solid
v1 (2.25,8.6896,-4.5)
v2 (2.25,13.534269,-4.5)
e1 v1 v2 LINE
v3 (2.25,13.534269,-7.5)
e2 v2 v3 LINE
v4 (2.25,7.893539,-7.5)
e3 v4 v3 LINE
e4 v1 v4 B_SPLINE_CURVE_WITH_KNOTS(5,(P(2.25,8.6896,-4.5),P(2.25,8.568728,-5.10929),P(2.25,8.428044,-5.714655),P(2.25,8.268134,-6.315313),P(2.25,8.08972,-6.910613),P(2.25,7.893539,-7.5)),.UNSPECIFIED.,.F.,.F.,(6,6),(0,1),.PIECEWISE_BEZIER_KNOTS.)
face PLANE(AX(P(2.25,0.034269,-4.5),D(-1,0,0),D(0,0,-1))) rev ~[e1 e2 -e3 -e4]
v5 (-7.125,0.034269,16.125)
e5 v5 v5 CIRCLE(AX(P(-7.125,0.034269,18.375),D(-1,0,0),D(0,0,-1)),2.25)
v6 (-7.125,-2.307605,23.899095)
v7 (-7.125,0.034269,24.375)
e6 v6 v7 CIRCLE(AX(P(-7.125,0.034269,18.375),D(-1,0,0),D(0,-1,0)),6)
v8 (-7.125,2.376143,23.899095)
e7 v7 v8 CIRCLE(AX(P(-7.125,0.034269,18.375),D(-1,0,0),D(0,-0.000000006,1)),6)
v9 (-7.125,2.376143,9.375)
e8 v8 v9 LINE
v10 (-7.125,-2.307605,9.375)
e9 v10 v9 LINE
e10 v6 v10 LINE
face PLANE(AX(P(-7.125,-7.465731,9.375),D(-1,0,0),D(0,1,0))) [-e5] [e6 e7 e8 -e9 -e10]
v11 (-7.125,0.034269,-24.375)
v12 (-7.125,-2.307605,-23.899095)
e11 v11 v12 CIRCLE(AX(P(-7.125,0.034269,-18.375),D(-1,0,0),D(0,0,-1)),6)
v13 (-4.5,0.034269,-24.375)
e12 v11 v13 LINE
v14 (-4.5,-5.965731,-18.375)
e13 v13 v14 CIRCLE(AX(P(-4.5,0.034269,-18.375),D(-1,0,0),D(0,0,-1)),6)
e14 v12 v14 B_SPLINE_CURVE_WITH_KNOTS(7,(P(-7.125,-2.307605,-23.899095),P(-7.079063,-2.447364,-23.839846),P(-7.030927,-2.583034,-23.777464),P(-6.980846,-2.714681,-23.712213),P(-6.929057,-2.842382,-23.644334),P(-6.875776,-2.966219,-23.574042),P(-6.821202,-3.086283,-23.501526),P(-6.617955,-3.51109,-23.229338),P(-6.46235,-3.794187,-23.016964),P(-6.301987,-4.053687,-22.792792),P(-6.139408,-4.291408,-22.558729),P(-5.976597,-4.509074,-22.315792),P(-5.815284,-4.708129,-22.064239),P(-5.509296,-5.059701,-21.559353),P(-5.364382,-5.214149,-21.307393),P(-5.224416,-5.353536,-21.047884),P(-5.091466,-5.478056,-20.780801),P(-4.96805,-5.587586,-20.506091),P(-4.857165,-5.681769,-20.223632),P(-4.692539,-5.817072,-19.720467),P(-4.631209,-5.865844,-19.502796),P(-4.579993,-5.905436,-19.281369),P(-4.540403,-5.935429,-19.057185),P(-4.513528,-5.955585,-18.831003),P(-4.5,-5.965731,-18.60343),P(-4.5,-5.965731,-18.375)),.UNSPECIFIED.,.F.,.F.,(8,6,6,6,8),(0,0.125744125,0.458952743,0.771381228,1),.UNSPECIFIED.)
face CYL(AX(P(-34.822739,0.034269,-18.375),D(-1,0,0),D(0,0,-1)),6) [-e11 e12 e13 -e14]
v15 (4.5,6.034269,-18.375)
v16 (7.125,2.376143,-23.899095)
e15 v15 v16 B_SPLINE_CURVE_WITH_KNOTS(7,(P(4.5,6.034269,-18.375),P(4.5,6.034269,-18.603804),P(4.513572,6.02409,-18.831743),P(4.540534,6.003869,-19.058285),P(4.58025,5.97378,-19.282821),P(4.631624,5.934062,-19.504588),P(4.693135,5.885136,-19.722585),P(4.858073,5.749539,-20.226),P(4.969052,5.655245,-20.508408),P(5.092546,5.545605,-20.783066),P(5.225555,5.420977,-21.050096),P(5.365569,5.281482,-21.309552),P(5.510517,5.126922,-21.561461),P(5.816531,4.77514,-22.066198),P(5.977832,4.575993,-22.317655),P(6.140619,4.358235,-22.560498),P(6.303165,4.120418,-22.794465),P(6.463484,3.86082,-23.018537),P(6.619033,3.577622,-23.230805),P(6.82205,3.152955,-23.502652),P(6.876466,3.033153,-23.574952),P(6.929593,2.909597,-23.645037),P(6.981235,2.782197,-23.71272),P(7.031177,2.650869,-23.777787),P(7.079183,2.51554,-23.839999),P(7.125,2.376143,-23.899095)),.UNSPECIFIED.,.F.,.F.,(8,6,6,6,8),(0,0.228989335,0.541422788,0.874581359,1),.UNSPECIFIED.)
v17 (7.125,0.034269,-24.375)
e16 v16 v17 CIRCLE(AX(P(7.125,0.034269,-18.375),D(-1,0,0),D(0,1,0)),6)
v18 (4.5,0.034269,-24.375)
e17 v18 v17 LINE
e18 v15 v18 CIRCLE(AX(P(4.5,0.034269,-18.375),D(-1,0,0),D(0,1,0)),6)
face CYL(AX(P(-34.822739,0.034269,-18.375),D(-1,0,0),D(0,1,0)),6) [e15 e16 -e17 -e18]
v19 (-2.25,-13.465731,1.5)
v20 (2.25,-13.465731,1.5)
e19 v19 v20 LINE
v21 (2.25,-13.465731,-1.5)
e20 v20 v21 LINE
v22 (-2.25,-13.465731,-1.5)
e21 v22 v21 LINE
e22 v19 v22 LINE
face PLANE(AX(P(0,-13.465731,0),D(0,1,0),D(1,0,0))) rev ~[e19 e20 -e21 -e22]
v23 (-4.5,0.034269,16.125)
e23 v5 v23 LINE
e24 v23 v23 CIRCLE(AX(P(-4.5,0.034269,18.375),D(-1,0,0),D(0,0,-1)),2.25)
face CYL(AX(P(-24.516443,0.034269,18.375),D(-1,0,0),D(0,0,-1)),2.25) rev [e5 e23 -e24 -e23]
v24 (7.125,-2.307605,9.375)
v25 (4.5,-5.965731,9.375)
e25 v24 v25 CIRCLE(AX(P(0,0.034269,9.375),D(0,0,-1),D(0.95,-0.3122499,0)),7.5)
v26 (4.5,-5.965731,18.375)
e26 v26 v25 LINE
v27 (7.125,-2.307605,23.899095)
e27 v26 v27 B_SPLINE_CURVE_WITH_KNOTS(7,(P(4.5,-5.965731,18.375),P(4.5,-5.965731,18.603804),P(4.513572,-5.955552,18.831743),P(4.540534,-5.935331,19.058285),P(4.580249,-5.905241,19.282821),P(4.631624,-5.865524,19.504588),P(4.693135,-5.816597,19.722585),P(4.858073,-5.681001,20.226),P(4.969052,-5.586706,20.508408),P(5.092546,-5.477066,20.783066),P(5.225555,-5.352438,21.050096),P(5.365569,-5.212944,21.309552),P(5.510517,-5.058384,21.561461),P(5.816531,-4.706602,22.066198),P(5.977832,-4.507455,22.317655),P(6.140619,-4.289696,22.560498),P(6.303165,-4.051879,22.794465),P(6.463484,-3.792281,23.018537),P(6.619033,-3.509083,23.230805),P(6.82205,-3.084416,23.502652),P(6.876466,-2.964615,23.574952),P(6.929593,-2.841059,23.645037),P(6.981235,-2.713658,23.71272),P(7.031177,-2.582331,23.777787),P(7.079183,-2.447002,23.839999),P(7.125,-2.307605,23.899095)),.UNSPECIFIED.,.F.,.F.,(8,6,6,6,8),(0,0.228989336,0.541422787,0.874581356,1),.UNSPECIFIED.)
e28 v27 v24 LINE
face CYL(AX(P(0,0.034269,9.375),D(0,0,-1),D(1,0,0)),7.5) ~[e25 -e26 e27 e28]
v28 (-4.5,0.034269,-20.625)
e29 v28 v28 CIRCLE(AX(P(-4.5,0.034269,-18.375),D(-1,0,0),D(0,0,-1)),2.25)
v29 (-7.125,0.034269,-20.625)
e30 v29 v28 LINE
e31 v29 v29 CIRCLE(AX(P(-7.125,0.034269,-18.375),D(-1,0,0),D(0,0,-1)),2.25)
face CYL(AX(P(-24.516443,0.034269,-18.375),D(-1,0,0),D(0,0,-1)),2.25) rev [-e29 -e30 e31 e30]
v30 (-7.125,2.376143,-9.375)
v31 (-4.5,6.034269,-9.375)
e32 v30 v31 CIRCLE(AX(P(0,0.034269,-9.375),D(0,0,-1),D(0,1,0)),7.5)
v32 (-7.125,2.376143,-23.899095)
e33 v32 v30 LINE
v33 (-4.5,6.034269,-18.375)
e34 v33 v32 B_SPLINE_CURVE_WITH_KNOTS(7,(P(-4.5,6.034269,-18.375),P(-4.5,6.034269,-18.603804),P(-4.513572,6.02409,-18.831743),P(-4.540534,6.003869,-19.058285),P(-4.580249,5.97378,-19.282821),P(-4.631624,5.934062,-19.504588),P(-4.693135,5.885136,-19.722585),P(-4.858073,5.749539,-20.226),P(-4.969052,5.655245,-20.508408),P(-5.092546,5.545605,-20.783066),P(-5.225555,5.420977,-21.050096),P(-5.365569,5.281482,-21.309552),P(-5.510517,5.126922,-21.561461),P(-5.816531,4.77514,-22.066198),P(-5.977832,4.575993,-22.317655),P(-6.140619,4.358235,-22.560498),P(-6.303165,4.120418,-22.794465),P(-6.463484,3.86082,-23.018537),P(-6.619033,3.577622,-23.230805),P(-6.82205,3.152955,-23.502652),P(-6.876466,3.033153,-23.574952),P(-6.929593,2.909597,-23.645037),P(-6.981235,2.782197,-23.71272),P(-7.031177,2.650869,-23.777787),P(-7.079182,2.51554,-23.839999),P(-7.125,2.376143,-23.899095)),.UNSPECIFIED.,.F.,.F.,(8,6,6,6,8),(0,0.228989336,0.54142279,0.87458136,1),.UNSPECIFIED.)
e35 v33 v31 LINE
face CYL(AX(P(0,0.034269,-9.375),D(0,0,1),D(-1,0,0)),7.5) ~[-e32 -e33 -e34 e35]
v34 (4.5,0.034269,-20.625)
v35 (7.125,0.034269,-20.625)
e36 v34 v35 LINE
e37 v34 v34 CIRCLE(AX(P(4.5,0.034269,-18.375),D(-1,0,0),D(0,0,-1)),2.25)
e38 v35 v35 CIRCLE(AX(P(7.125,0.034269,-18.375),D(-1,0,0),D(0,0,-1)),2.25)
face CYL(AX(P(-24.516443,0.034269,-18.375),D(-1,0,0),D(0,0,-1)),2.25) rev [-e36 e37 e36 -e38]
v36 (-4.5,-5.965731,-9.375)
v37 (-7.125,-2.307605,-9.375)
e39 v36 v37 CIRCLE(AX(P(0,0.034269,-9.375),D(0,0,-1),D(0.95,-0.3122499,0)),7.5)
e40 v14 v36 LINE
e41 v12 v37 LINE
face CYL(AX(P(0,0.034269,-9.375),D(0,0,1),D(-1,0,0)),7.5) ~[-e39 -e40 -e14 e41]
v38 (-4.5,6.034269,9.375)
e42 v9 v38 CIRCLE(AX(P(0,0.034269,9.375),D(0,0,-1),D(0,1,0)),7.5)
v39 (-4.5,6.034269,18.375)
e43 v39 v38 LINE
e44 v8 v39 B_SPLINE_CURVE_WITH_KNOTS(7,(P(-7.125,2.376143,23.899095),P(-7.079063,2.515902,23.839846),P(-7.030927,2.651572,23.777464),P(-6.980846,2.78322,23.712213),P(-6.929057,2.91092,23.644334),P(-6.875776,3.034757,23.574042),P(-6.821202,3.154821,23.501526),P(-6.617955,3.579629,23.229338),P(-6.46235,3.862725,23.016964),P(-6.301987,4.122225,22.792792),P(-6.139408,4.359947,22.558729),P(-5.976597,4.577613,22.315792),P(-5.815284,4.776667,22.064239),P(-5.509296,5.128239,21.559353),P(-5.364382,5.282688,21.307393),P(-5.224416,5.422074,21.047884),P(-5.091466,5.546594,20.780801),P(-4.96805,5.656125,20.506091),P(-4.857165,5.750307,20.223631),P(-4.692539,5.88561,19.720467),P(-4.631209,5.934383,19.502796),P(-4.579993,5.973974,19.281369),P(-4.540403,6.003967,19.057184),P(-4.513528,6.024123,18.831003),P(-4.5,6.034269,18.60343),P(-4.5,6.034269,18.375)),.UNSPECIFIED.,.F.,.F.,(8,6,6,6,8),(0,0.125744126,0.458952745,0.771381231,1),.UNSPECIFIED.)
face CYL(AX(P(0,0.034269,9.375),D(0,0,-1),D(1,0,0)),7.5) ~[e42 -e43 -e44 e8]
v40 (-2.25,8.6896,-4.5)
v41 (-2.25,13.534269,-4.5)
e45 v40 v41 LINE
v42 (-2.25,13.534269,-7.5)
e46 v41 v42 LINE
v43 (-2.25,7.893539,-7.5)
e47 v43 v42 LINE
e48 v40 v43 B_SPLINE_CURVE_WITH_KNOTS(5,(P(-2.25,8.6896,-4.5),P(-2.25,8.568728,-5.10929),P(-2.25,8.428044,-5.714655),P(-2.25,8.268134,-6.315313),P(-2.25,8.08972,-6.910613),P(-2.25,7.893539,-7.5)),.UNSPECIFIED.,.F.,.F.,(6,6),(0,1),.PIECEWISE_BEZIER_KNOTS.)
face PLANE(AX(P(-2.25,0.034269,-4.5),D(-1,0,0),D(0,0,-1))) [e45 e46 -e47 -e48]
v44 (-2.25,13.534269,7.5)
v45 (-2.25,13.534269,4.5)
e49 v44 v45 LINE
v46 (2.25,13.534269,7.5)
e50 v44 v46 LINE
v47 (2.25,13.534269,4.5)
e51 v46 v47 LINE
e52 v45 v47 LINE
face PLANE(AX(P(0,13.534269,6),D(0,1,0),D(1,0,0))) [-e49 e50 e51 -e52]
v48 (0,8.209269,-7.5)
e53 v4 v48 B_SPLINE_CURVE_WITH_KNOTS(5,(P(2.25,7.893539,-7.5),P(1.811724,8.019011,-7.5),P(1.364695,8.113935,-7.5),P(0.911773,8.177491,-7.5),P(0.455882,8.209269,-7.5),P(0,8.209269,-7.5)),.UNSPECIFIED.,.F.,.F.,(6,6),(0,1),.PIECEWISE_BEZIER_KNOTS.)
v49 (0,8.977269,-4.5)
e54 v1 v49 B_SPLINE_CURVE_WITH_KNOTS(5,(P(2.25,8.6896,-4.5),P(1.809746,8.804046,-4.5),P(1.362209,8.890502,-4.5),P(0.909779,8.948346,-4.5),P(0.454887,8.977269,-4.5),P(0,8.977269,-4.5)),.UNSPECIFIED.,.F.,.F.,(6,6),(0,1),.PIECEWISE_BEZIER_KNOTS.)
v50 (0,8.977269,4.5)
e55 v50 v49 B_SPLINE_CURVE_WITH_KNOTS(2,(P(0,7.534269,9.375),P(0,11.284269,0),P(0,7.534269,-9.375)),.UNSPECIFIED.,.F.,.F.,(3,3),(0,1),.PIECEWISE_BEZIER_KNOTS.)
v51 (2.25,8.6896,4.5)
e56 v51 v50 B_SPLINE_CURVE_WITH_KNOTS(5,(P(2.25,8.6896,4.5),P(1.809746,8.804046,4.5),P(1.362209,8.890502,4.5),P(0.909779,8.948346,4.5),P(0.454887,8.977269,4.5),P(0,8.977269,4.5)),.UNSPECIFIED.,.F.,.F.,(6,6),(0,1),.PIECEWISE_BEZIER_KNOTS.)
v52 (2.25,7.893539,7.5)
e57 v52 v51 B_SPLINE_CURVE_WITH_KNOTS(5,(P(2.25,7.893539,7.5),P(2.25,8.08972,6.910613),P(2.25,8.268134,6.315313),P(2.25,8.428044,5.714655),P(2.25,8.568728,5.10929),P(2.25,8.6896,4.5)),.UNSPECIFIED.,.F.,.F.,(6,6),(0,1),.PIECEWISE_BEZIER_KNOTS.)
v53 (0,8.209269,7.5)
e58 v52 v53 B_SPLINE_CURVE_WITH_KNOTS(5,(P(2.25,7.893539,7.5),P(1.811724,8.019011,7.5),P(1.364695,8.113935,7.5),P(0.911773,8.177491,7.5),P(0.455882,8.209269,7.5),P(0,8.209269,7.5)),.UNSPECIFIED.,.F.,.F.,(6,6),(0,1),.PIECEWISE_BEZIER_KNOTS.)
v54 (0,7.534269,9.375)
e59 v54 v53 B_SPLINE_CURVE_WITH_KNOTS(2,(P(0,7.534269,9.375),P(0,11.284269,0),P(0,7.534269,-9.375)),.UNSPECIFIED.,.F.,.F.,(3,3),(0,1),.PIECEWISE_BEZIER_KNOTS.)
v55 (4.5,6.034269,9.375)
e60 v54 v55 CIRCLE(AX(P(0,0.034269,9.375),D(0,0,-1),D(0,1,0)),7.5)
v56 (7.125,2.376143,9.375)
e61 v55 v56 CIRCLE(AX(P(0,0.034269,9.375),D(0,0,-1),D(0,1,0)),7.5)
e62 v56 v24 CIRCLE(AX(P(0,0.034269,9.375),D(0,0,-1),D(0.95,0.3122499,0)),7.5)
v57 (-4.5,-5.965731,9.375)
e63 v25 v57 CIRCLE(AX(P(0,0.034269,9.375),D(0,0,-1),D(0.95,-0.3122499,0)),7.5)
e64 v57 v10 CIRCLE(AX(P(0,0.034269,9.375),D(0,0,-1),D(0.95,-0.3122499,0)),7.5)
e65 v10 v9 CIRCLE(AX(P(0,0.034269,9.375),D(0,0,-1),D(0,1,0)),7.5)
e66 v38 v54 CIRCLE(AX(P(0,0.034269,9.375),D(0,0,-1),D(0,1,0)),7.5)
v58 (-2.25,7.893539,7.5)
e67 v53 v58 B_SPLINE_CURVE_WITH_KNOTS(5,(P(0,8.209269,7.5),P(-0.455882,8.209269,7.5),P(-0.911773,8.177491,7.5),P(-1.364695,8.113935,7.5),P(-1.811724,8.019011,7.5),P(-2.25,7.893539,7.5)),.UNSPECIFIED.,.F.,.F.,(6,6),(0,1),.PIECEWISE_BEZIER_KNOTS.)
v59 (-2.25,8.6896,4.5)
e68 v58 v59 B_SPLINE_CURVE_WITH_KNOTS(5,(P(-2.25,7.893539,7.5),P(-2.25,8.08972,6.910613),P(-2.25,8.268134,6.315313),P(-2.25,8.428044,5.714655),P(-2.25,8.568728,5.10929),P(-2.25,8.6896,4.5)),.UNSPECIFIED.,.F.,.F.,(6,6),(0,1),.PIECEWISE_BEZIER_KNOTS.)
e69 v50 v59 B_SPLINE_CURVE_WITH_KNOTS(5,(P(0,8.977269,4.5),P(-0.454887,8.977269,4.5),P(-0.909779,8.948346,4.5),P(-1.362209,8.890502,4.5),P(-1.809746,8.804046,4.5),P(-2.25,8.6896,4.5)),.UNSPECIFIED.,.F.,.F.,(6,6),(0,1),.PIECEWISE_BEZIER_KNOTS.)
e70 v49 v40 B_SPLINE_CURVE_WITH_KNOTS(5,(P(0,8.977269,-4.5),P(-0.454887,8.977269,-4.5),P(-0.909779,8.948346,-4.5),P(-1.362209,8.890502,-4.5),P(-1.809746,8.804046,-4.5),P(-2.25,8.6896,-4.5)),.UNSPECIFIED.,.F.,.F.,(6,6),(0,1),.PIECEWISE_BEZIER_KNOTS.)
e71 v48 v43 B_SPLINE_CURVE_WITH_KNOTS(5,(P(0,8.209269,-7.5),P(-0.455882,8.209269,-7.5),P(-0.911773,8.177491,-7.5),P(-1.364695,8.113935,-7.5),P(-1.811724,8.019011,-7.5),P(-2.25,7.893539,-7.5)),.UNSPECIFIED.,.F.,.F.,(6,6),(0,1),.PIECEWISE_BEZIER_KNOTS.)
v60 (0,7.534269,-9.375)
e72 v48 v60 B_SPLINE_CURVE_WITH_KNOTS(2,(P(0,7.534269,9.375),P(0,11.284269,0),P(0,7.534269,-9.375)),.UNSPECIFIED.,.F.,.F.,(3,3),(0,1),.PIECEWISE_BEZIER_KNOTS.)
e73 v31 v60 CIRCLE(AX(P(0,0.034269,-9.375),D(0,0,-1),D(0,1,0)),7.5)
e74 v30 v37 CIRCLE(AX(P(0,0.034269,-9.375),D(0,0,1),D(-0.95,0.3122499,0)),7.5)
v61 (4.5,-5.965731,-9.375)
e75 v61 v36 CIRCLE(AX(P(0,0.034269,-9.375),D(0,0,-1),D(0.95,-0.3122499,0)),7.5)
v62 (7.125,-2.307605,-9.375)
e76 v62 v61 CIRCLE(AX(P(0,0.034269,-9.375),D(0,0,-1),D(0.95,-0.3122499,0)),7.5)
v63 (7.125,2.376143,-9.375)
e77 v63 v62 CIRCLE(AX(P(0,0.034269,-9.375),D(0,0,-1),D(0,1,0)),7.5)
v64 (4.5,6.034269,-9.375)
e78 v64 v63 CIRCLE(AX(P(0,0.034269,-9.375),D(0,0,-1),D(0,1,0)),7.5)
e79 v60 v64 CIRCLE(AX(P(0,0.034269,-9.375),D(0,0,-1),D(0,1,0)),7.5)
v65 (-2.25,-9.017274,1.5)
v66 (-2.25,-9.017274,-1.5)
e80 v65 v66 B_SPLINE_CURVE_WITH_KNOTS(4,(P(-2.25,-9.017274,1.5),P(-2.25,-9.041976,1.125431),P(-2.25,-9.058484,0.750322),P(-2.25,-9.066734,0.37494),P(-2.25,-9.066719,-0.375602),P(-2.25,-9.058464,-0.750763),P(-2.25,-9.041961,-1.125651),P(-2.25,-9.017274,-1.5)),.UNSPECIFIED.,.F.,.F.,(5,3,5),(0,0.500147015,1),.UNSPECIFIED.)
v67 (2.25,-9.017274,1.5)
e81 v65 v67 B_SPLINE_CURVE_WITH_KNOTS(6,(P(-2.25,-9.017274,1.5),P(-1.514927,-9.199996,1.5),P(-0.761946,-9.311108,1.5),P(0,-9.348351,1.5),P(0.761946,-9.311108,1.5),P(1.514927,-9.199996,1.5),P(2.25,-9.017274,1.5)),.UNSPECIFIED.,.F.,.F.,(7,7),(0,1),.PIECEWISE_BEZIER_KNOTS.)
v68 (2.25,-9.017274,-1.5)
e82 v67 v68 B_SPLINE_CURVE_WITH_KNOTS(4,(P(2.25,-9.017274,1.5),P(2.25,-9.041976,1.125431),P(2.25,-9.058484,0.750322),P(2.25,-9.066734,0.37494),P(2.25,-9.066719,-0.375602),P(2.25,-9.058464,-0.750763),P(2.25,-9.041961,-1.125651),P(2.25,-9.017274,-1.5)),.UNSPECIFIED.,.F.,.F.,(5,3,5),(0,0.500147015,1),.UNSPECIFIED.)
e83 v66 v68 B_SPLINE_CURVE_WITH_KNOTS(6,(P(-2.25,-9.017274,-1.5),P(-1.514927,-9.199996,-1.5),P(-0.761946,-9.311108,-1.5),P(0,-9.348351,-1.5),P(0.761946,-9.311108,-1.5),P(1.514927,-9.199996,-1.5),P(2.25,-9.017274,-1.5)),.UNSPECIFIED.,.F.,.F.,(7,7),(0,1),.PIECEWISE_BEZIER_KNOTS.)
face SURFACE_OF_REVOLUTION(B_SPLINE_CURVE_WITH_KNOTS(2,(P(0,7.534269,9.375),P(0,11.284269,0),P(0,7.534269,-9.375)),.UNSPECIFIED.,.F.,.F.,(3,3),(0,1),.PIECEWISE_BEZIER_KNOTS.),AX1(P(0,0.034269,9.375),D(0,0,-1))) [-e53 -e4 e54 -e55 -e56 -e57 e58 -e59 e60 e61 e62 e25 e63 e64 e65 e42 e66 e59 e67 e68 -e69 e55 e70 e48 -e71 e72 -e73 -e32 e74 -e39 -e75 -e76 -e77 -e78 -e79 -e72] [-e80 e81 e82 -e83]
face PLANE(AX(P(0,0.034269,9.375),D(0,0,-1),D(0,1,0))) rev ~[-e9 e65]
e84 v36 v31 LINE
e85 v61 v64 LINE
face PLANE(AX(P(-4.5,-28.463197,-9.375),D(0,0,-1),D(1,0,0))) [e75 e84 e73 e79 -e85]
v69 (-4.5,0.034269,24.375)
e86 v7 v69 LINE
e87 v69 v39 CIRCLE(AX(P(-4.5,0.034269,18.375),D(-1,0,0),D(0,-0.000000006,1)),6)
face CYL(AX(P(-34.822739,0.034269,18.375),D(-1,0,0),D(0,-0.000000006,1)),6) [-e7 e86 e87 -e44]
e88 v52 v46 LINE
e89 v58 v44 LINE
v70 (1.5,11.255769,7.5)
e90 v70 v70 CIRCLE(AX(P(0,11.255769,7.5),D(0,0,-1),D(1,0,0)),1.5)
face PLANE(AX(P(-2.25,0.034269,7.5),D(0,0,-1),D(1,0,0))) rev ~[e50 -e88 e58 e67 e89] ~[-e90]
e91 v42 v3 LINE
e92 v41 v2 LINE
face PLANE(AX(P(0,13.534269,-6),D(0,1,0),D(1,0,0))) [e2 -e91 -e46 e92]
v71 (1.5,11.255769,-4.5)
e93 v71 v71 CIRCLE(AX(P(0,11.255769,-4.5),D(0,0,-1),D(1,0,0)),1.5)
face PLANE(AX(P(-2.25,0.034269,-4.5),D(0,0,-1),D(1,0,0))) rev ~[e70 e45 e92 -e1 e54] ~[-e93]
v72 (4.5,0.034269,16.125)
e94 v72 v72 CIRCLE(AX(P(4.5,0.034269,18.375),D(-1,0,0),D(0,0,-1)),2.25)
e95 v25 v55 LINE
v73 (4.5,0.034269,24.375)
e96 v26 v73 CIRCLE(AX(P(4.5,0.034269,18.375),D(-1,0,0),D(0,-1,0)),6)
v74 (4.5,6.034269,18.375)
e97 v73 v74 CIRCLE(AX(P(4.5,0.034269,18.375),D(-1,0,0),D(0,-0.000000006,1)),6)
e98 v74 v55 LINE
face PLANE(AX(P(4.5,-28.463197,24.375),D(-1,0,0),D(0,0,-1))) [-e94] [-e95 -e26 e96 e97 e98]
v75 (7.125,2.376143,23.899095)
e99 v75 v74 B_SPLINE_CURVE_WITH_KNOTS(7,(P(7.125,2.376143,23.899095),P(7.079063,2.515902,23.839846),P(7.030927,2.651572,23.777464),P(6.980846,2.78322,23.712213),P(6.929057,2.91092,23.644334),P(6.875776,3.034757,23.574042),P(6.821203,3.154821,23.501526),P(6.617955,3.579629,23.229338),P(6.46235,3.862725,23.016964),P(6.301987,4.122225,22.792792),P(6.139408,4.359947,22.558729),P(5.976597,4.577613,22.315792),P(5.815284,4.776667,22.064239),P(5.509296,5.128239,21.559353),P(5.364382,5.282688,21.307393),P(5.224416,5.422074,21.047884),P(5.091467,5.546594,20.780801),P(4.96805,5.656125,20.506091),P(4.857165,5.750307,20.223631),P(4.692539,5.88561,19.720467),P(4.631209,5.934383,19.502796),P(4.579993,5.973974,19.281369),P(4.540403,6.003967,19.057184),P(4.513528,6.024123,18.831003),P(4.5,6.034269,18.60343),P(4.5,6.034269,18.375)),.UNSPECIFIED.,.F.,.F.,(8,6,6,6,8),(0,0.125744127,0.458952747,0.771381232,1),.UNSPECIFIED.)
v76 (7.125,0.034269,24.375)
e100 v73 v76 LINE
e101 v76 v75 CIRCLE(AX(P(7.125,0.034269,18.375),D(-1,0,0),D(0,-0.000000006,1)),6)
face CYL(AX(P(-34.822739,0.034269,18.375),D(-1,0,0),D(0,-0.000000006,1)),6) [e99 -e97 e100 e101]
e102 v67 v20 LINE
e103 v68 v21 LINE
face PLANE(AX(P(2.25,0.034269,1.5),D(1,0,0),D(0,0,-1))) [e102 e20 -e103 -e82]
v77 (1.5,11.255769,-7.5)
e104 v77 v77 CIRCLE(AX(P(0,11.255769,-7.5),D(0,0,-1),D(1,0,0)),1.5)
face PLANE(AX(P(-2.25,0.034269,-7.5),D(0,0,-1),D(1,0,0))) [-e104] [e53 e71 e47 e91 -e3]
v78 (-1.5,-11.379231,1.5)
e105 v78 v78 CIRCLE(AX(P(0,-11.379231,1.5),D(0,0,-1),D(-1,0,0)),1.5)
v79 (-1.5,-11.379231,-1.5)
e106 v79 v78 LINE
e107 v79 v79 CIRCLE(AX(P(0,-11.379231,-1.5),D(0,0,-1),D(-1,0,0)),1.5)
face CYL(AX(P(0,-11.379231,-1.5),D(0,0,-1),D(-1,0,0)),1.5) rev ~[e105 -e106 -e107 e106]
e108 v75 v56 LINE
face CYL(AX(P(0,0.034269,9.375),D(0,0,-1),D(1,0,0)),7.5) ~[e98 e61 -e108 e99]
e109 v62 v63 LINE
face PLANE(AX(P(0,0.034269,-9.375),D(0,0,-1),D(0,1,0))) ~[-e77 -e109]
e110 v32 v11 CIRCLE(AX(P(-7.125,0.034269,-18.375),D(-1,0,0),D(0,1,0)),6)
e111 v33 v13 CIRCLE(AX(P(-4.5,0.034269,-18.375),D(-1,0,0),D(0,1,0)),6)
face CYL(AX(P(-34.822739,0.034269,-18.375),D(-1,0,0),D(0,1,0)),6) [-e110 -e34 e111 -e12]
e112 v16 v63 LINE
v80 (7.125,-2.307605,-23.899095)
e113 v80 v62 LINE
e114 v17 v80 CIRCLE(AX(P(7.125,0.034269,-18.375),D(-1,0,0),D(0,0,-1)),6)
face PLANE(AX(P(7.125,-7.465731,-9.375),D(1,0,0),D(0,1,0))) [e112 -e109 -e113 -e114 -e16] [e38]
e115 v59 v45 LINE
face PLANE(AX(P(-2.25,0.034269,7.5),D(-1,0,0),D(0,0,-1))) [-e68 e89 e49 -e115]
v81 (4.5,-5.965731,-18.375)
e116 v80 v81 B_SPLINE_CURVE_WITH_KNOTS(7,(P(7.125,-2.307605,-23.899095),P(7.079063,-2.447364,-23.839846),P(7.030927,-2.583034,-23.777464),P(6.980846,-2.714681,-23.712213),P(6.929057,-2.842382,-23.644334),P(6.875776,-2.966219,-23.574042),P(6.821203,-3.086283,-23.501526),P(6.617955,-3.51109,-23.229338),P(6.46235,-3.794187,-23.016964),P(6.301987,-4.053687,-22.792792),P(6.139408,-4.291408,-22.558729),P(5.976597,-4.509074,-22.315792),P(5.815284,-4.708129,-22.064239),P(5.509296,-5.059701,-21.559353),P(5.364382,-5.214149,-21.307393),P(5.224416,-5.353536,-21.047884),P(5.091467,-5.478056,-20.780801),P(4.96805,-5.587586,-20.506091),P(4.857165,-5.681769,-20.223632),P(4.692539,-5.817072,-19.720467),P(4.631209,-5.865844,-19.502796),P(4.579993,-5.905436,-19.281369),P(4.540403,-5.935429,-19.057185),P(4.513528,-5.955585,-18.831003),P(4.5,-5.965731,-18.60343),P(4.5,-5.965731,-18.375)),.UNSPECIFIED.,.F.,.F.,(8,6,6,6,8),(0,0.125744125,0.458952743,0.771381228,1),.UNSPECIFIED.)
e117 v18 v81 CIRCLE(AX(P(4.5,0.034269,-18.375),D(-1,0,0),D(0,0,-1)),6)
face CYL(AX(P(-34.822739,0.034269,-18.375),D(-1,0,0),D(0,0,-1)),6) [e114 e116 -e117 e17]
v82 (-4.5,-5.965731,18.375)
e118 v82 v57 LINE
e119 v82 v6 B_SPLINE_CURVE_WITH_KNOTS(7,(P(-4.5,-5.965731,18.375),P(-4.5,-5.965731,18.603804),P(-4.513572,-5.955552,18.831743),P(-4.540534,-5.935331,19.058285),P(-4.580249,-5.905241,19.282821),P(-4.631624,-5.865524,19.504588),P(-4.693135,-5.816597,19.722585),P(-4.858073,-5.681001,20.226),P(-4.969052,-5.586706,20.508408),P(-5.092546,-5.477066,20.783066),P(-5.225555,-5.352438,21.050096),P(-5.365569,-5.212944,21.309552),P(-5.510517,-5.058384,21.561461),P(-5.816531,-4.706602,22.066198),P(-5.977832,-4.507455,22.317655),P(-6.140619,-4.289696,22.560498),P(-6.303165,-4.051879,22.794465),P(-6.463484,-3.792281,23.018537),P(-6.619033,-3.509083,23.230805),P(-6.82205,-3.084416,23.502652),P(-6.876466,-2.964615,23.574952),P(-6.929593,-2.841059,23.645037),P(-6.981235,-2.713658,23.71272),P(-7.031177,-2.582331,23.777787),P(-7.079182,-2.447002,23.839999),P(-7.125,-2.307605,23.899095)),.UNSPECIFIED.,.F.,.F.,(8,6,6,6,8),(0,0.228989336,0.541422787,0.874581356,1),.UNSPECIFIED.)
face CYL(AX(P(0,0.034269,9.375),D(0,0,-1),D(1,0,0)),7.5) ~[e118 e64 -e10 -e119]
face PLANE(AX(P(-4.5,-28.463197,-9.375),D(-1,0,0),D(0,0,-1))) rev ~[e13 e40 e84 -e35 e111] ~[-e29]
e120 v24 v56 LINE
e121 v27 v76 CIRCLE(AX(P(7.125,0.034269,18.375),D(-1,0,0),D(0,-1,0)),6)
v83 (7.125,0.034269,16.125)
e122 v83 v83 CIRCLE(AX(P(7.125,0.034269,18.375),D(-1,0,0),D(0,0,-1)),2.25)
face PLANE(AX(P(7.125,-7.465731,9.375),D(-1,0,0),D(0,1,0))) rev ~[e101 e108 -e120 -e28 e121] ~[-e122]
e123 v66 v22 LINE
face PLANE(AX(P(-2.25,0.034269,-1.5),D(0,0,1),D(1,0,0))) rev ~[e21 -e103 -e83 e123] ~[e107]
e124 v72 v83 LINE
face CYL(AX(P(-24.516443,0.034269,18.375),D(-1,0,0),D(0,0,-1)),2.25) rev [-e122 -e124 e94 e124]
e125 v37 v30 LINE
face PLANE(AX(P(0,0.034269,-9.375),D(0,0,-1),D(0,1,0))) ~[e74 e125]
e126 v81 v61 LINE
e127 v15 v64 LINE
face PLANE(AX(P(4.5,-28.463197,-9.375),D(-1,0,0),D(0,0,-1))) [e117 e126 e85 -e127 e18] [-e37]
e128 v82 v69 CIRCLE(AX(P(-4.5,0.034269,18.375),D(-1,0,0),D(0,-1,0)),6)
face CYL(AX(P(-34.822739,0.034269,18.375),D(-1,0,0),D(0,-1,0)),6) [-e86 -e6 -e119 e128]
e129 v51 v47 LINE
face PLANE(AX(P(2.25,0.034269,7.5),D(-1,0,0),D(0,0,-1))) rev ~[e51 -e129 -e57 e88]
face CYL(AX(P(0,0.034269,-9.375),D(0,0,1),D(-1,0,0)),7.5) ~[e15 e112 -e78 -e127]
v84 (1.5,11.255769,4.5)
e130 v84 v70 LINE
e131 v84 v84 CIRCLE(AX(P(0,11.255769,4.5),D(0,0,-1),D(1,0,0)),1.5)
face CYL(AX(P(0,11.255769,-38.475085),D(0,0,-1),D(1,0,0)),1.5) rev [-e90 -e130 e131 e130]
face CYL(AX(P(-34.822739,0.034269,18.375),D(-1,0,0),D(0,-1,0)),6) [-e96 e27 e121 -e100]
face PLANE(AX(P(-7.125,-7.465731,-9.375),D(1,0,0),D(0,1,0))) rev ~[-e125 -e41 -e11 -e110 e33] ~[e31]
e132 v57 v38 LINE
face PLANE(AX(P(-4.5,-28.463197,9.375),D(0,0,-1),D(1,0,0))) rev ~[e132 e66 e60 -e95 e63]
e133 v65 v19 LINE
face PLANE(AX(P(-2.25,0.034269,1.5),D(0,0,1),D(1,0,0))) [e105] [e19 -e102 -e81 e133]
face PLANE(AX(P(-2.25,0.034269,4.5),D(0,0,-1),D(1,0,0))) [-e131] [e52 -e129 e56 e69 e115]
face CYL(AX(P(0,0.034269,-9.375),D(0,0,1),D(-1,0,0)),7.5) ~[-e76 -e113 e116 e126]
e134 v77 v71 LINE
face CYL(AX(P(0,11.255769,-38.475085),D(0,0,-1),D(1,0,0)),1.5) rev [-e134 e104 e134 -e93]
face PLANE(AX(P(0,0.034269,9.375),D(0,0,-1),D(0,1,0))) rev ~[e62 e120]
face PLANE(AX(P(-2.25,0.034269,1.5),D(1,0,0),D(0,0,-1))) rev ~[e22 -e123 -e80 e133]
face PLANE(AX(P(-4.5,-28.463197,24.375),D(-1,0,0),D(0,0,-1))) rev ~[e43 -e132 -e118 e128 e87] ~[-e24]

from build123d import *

# Parameters (mm, degrees)
SKETCH3_W                = 19
SKETCH3_H                = 20
BOSS_EXTRUDE2_DEPTH      = 20
SKETCH4_W                = 19
SKETCH4_H                = 20
BOSS_EXTRUDE3_DEPTH      = 20
SKETCH5_R                = 15
SKETCH5_R_2              = 10
CUT_EXTRUDE1_DEPTH       = 49.347699066
SKETCH6_R                = 15
SKETCH6_R_2              = 10
CUT_EXTRUDE2_DEPTH       = 49.347699066
CUT_EXTRUDE3_DEPTH       = 37.996621535
CUT_EXTRUDE3_DEPTH_BACK  = 37.996621535
SKETCH7_W                = 12
SKETCH7_H                = 20
CUT_EXTRUDE4_DEPTH       = 40.430318363
CUT_EXTRUDE4_DEPTH_BACK  = 40.430318363
CUT_EXTRUDE5_DEPTH       = 40.430318445
CUT_EXTRUDE5_DEPTH_BACK  = 40.430318445
CUT_EXTRUDE8_DEPTH       = 42.188590816
CUT_EXTRUDE8_DEPTH_BACK  = 42.188590816
SKETCH10_R               = 3
SKETCH11_W               = 6
SKETCH11_H               = 4
BOSS_EXTRUDE5_DEPTH      = 18
SKETCH12_R               = 2
CUT_EXTRUDE9_DEPTH       = 41.871750794
SKETCH13_W               = 6
SKETCH13_H               = 4
BOSS_EXTRUDE6_DEPTH      = 18
CUT_EXTRUDE10_DEPTH      = 45.300113022
CUT_EXTRUDE10_DEPTH_BACK = 45.300113022
SKETCH14_R               = 2
SCALE1_SCALE             = 0.75


with BuildPart() as part:
    # Sketch2 → Revolve1 (revolve)
    with BuildSketch(Plane(origin=(0, 0, 0), x_dir=(0, 0, -1), z_dir=(1, 0, 0))):
        with BuildLine():
            Line((-12.5, 0), (12.5, 0))
            Line((12.5, 0), (12.5, 10))
            add(Edge.make_bspline(
                [(-12.5, 10), (0, 15), (12.5, 10)],
                knots=[0, 0, 0, 1, 1, 1], degree=2))
            Line((-12.5, 10), (-12.5, 0))
        make_face()
    revolve(axis=Axis((0, 0, 12.5), (0, 0, -1)))

    # Sketch3 → Boss-Extrude2 (add)
    with BuildSketch(Plane.XY.offset(12.5)):
        Rectangle(SKETCH3_W, SKETCH3_H)
    extrude(amount=BOSS_EXTRUDE2_DEPTH)

    # Sketch4 → Boss-Extrude3 (add)
    with BuildSketch(Plane(origin=(0, 0, -12.5), x_dir=(-1, 0, 0), z_dir=(0, 0, -1))):
        Rectangle(SKETCH4_W, SKETCH4_H)
    extrude(amount=BOSS_EXTRUDE3_DEPTH)

    # Sketch5 → Cut-Extrude1 (cut, through all)
    with BuildSketch(Plane(origin=(0, 0, -12.5), x_dir=(-1, 0, 0), z_dir=(0, 0, -1))):
        Circle(SKETCH5_R)
        Circle(SKETCH5_R_2, mode=Mode.SUBTRACT)
    extrude(amount=CUT_EXTRUDE1_DEPTH, mode=Mode.SUBTRACT)

    # Sketch6 → Cut-Extrude2 (cut, through all)
    with BuildSketch(Plane.XY.offset(12.5)):
        Circle(SKETCH6_R)
        Circle(SKETCH6_R_2, mode=Mode.SUBTRACT)
    extrude(amount=CUT_EXTRUDE2_DEPTH, mode=Mode.SUBTRACT)

    # Sketch7 → Cut-Extrude3 (cut, two sides: drawn at the far end of the back side and taken through both)
    with BuildSketch(Plane(origin=(0, 0, 0), x_dir=(1, 0, 0), z_dir=(0, 1, 0)).offset(-CUT_EXTRUDE3_DEPTH_BACK)):
        with Locations((0, 22.5)):
            Rectangle(SKETCH7_W, SKETCH7_H)
        with Locations((0, -22.5)):
            Rectangle(SKETCH7_W, SKETCH7_H)
    extrude(amount=CUT_EXTRUDE3_DEPTH + CUT_EXTRUDE3_DEPTH_BACK, mode=Mode.SUBTRACT)

    # Sketch8 → Cut-Extrude4 (cut, two sides: drawn at the far end of the back side and taken through both)
    with BuildSketch(Plane(origin=(-6, 0, 0), x_dir=(0, 0, -1), z_dir=(1, 0, 0)).offset(-CUT_EXTRUDE4_DEPTH_BACK)):
        with BuildLine():
            Line((-32.5, 8), (-32.5, -5.1e-08))
            ThreePointArc((-32.5, -5.1e-08), (-30.156854267, 5.656854232), (-24.5, 8))
            Line((-24.5, 8), (-32.5, 8))
        make_face()
        with BuildLine():
            Line((-32.5, -8), (-24.5, -8))
            ThreePointArc((-24.5, -8), (-30.156854232, -5.656854267), (-32.5, -5.1e-08))
            Line((-32.5, -5.1e-08), (-32.5, -8))
        make_face()
    extrude(amount=CUT_EXTRUDE4_DEPTH + CUT_EXTRUDE4_DEPTH_BACK, mode=Mode.SUBTRACT)

    # Sketch9 → Cut-Extrude5 (cut, two sides: drawn at the far end of the back side and taken through both)
    with BuildSketch(Plane(origin=(-6, 0, 0), x_dir=(0, 0, -1), z_dir=(1, 0, 0)).offset(-CUT_EXTRUDE5_DEPTH_BACK)):
        with BuildLine():
            ThreePointArc((24.5, 8), (30.156854249, 5.656854249), (32.5, 0))
            Line((32.5, 0), (32.5, 8))
            Line((32.5, 8), (24.5, 8))
        make_face()
        with BuildLine():
            ThreePointArc((32.5, 0), (30.156854249, -5.656854249), (24.5, -8))
            Line((24.5, -8), (32.5, -8))
            Line((32.5, -8), (32.5, 0))
        make_face()
    extrude(amount=CUT_EXTRUDE5_DEPTH + CUT_EXTRUDE5_DEPTH_BACK, mode=Mode.SUBTRACT)

    # Sketch10 → Cut-Extrude8 (cut, two sides: drawn at the far end of the back side and taken through both)
    with BuildSketch(Plane(origin=(9.5, 0, 0), x_dir=(0, 0, -1), z_dir=(1, 0, 0)).offset(-CUT_EXTRUDE8_DEPTH_BACK)):
        with Locations((24.5, 0)):
            Circle(SKETCH10_R)
        with Locations((-24.5, 0)):
            Circle(SKETCH10_R)
    extrude(amount=CUT_EXTRUDE8_DEPTH + CUT_EXTRUDE8_DEPTH_BACK, mode=Mode.SUBTRACT)

    # Sketch11 → Boss-Extrude5 (add)
    with BuildSketch(Plane(origin=(0, 0, 0), x_dir=(1, 0, 0), z_dir=(0, 1, 0))):
        Rectangle(SKETCH11_W, SKETCH11_H)
    extrude(amount=-BOSS_EXTRUDE5_DEPTH)

    # Sketch12 → Cut-Extrude9 (cut, through all)
    with BuildSketch(Plane(origin=(0, 0, -2), x_dir=(-1, 0, 0), z_dir=(0, 0, -1))):
        with Locations((0, -15.218)):
            Circle(SKETCH12_R)
    extrude(amount=-CUT_EXTRUDE9_DEPTH, mode=Mode.SUBTRACT)

    # Sketch13 → Boss-Extrude6 (add)
    with BuildSketch(Plane(origin=(0, 0, 0), x_dir=(1, 0, 0), z_dir=(0, 1, 0))):
        with Locations((0, 8)):
            Rectangle(SKETCH13_W, SKETCH13_H)
        with Locations((0, -8)):
            Rectangle(SKETCH13_W, SKETCH13_H)
    extrude(amount=BOSS_EXTRUDE6_DEPTH)

    # Sketch14 → Cut-Extrude10 (cut, two sides: drawn at the far end of the back side and taken through both)
    with BuildSketch(Plane.XY.offset(-6).offset(-CUT_EXTRUDE10_DEPTH_BACK)):
        with Locations((0, 14.962)):
            Circle(SKETCH14_R)
    extrude(amount=CUT_EXTRUDE10_DEPTH + CUT_EXTRUDE10_DEPTH_BACK, mode=Mode.SUBTRACT)


with BuildPart() as part_1:
    # Scale1: scaled about (2.6e-08, 0.137076755, -6.1e-08)
    add(part.part.scale(SCALE1_SCALE).moved(Location((7e-09, 0.034269189, -1.5e-08))))


solid = part_1.part
